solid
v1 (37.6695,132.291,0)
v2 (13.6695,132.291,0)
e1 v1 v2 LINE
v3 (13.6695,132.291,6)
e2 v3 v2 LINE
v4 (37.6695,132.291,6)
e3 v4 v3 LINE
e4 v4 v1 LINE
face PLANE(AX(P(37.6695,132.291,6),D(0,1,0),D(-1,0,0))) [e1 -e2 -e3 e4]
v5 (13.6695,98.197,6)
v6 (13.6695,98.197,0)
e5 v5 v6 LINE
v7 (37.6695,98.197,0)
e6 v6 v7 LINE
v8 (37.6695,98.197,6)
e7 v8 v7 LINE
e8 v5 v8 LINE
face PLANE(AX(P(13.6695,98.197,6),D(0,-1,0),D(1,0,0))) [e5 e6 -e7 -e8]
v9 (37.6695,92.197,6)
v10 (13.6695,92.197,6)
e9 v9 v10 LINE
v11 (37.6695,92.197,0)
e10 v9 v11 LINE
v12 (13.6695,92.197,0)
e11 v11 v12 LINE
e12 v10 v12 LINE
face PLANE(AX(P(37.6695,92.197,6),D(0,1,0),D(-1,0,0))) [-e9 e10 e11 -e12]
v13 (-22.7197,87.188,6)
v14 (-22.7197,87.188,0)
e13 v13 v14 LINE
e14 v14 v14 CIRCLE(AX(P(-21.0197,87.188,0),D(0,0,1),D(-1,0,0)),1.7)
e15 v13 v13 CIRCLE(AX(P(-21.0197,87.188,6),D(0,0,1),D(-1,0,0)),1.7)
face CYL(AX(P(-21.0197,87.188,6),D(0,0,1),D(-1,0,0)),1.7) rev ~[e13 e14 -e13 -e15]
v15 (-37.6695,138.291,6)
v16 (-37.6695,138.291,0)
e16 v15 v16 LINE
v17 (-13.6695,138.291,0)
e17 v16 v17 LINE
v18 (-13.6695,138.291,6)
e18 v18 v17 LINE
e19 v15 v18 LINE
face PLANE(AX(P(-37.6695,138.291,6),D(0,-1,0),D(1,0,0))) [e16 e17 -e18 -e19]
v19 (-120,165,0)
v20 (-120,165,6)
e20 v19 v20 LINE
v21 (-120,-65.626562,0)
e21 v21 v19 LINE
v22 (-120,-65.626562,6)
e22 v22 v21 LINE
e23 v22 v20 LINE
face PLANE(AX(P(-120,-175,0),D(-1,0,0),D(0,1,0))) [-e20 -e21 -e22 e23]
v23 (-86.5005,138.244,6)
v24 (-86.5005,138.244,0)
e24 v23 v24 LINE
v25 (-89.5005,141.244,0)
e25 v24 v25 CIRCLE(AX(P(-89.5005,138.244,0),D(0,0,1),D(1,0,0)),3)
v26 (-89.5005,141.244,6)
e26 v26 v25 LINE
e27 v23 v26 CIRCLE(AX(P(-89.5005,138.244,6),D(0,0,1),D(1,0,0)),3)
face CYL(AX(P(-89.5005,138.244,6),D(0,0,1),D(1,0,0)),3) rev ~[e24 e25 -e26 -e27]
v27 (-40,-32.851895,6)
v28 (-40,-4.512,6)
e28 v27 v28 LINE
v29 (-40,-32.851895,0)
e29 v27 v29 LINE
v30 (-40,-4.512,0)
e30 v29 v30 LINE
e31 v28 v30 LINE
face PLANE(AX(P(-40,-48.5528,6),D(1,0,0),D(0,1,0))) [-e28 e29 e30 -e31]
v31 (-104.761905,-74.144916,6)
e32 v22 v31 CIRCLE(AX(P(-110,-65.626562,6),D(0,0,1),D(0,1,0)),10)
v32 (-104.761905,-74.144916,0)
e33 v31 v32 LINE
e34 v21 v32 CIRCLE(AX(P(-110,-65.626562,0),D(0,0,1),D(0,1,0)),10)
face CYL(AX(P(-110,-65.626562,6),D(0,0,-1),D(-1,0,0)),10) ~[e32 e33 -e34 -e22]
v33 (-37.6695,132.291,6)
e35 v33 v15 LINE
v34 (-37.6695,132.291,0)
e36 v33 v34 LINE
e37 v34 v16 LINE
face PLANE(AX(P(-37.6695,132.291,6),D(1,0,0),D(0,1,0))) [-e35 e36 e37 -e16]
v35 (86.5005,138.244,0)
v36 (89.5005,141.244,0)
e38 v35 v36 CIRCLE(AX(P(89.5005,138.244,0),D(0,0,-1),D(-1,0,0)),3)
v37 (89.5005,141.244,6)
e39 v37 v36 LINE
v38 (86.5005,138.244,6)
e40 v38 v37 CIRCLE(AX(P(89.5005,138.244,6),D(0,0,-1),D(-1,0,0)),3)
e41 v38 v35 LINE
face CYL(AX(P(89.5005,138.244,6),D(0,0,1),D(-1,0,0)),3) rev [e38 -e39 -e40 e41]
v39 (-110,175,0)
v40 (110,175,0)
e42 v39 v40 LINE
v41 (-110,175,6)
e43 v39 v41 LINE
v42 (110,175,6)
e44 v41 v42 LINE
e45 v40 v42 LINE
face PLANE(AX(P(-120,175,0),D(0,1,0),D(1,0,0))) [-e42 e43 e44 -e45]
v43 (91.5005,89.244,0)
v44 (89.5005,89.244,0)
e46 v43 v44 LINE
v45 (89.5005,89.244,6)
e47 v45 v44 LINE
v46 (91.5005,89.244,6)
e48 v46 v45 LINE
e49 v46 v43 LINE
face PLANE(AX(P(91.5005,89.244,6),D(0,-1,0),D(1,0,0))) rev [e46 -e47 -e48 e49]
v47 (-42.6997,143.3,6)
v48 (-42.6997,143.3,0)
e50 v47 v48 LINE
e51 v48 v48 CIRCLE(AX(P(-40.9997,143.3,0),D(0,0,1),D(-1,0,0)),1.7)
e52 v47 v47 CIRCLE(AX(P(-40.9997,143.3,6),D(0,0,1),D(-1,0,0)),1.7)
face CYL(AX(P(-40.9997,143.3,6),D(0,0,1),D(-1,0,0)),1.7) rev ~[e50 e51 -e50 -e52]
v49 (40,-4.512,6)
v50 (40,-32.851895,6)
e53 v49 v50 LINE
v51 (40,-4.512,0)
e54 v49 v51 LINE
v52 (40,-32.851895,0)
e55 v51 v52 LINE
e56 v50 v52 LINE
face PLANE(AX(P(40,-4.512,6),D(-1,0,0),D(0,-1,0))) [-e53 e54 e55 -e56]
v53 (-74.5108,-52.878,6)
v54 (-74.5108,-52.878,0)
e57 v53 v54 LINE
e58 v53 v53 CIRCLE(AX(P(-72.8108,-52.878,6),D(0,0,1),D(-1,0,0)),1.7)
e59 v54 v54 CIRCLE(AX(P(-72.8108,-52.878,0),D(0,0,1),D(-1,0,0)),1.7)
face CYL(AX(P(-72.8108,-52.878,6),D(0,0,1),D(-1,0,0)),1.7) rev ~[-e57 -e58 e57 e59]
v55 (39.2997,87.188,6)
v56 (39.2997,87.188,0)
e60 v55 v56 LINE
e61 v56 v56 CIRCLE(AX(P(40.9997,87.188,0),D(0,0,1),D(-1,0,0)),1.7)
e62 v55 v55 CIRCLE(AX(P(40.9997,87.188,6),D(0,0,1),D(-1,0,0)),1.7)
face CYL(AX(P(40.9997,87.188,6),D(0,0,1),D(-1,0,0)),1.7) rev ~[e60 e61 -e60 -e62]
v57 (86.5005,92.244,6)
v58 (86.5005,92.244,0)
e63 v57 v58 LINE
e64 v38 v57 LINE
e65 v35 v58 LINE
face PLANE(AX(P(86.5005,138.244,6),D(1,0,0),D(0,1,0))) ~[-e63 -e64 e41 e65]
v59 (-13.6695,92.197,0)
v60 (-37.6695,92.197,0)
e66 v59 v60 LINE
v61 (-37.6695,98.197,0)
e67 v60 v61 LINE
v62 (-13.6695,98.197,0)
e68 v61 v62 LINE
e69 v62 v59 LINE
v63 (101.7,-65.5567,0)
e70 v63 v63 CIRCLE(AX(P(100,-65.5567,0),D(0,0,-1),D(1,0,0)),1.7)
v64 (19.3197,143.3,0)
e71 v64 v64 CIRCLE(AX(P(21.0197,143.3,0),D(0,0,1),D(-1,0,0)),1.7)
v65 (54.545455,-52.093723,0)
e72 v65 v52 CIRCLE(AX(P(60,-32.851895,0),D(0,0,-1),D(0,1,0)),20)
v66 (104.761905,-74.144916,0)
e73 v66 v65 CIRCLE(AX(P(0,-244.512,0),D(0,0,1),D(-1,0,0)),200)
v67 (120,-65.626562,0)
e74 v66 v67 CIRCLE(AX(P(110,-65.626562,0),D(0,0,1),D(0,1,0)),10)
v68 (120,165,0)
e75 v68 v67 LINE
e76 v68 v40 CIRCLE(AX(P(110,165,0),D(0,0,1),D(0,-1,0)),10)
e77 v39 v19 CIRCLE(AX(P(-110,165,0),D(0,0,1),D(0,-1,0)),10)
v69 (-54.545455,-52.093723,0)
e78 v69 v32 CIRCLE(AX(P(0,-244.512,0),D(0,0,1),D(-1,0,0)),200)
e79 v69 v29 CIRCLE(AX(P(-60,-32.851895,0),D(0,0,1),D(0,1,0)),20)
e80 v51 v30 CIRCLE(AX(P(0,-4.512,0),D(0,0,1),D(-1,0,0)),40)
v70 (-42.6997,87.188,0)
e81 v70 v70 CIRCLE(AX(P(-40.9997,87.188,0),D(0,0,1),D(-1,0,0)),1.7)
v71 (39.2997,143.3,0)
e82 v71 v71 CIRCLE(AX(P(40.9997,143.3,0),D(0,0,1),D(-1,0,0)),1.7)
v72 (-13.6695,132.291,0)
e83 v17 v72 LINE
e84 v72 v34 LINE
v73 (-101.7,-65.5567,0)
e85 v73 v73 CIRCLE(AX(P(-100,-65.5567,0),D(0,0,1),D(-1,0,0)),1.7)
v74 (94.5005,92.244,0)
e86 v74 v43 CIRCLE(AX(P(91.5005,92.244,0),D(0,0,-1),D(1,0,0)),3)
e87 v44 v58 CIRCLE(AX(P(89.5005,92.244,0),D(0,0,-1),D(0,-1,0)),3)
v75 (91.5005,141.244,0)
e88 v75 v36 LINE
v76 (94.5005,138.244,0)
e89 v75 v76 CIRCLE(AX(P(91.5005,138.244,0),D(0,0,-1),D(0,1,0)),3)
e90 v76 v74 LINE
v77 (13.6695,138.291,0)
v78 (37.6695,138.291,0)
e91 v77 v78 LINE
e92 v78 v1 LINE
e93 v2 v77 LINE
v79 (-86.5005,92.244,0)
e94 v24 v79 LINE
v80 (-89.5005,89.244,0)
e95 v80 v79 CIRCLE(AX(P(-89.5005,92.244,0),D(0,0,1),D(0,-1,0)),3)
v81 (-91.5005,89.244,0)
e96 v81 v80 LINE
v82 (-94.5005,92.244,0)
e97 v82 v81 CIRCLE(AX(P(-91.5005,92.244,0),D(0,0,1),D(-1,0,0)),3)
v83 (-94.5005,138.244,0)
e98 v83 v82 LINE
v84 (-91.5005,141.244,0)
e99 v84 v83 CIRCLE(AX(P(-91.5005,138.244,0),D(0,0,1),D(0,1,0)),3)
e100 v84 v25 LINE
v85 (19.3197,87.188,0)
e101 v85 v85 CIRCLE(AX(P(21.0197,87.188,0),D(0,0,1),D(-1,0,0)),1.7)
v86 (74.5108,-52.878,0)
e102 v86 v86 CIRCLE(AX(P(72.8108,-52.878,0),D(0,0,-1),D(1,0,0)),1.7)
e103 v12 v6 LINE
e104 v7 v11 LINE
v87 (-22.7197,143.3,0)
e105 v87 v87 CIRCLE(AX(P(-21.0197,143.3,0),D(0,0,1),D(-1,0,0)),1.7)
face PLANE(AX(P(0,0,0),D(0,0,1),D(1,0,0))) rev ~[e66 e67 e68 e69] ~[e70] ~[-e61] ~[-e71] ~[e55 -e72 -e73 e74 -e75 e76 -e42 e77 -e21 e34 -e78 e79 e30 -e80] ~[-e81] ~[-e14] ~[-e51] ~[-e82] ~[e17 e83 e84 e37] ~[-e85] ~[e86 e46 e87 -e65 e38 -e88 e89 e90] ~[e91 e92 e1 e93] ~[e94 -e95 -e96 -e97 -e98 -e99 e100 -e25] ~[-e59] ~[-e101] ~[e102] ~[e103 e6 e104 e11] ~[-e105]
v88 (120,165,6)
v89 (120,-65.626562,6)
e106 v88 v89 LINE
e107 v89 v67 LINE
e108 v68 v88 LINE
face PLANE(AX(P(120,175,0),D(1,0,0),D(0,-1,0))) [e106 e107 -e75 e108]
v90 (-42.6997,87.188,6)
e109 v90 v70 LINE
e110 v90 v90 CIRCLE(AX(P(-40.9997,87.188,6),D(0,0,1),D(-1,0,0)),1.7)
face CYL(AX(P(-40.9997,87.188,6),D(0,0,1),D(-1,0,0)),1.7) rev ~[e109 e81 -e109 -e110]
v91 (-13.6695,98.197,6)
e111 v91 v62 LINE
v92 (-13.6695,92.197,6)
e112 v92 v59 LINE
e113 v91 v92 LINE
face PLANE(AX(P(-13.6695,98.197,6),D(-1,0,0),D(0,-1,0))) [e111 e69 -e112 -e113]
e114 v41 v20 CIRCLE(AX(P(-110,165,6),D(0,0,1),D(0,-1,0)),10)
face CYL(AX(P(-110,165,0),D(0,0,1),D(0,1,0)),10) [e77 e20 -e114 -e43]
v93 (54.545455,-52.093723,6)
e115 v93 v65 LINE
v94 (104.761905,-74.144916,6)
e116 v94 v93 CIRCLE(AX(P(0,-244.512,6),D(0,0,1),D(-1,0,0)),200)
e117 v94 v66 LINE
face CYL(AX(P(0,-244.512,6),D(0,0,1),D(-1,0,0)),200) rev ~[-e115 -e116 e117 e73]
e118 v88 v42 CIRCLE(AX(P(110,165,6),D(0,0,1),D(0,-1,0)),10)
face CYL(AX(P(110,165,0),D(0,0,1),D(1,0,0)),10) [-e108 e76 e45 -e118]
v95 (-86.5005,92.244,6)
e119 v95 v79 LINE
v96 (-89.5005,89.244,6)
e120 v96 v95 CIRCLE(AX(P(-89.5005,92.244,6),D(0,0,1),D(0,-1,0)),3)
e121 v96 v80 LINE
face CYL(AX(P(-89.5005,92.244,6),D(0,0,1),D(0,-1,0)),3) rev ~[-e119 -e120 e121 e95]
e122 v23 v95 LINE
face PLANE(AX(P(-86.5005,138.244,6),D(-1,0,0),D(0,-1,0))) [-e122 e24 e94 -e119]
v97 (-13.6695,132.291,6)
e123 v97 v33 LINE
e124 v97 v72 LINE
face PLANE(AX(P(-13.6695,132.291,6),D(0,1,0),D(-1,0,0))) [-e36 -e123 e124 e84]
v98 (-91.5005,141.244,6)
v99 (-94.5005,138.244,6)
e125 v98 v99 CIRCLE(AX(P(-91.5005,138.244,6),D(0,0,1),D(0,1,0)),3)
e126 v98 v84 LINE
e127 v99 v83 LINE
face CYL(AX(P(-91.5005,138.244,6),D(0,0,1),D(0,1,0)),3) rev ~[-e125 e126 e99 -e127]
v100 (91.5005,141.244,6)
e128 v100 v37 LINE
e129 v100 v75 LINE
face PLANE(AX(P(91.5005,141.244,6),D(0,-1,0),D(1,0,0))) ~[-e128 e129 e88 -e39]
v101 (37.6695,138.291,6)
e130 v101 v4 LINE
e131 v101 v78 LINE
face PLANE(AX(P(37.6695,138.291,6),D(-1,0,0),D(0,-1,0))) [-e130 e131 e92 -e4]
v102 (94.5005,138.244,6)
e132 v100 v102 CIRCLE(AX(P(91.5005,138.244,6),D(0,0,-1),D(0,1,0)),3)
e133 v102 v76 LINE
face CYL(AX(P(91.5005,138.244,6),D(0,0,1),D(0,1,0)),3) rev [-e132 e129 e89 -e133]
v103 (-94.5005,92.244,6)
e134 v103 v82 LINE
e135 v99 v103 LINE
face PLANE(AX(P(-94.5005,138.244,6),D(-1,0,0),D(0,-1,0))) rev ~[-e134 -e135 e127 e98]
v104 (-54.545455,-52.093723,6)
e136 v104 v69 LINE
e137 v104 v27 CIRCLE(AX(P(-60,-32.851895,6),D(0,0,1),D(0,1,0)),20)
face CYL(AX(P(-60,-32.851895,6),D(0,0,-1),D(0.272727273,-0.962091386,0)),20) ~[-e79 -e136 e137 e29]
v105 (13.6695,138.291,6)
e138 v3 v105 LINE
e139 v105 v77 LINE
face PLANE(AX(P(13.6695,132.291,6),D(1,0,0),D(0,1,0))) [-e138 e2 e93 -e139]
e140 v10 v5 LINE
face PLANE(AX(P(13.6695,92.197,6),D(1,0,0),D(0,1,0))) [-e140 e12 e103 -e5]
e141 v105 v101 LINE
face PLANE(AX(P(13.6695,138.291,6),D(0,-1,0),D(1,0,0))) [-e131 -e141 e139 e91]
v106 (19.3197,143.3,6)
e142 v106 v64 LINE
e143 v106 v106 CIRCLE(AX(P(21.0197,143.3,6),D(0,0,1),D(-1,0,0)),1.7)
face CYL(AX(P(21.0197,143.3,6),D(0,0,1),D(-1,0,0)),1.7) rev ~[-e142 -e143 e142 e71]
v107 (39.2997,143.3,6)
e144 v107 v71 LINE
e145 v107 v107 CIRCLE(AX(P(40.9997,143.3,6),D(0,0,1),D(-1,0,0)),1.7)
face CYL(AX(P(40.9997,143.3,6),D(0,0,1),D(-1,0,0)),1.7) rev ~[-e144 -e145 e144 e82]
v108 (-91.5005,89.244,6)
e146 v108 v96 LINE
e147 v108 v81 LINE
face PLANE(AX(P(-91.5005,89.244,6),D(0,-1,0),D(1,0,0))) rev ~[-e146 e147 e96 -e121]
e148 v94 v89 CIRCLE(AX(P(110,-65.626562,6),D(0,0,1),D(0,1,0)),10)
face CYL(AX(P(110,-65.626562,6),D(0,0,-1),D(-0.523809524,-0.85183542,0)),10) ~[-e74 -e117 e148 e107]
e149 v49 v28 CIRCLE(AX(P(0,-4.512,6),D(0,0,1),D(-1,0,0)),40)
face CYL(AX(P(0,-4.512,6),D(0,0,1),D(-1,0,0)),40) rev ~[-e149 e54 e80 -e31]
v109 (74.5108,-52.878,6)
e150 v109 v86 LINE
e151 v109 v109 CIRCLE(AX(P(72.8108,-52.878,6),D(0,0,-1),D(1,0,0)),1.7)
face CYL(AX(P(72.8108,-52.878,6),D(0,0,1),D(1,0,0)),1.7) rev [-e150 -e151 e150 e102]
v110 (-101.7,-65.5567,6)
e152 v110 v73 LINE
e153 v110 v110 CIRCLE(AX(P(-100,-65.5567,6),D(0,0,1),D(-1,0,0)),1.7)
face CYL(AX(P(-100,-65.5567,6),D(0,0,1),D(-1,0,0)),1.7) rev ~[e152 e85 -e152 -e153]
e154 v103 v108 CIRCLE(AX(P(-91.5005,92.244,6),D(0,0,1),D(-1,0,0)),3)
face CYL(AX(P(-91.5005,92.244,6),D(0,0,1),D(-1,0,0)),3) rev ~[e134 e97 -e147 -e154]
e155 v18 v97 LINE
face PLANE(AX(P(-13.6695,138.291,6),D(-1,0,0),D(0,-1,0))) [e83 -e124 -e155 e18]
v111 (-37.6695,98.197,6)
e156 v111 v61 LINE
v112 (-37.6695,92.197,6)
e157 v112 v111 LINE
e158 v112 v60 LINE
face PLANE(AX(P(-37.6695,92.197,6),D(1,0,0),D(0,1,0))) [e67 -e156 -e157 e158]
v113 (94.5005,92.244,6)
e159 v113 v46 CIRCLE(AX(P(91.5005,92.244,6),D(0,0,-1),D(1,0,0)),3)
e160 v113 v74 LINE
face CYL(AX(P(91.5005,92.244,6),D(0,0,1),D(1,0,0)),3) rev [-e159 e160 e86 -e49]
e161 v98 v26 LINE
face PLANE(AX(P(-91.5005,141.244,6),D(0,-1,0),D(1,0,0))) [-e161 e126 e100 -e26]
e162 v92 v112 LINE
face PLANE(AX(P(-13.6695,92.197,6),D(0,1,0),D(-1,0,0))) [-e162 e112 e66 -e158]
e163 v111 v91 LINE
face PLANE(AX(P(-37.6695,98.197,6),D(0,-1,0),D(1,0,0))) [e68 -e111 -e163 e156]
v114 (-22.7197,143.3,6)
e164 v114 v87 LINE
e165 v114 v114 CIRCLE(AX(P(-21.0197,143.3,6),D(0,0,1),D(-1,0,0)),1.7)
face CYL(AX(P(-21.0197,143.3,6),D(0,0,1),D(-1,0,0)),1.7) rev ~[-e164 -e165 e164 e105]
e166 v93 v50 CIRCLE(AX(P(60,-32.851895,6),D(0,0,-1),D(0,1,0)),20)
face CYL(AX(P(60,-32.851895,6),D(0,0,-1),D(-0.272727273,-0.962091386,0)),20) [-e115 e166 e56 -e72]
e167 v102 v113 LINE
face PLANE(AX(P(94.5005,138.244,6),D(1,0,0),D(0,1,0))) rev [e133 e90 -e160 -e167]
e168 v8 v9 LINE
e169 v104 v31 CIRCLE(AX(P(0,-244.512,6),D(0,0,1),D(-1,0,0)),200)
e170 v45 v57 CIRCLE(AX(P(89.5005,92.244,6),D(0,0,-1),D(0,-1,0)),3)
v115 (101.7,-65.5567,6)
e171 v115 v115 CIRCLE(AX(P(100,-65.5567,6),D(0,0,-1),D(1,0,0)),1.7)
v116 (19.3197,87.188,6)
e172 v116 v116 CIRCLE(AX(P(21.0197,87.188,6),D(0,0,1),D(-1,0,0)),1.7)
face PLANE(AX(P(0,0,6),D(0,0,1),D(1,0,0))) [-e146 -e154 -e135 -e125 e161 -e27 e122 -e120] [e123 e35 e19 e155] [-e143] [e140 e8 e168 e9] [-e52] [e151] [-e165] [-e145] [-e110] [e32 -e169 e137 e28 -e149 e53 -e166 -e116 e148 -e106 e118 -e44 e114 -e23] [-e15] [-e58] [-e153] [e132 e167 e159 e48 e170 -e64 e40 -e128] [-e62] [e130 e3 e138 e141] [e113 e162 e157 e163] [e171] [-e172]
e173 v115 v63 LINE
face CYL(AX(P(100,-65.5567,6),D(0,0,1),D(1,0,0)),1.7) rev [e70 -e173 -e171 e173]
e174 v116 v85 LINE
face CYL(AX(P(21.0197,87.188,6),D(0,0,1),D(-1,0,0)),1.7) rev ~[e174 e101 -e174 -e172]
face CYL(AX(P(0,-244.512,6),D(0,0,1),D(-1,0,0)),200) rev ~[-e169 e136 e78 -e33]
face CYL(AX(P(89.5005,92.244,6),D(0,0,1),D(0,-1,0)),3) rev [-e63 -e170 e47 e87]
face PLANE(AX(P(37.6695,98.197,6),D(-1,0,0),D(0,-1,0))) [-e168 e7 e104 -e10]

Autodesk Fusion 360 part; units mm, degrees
sketch "Sketch1" plane through (0, 0, 0) normal (0, 0, 1) x (1, 0, 0)
  line L0 (-120, 175) -> (120, 175)
  line L1 (120, 175) -> (120, -175)
  line L2 (120, -175) -> (-120, -175)
  line L3 (-120, -175) -> (-120, 175)
  line L4 (-120, 175) -> (120, -175) construction
  line L5 (120, 175) -> (-120, -175) construction
  dimension "d1" = 240
  dimension "d2" = 350
extrude "Extrude1" add sketch "Sketch1" along normal blind 6
sketch "Sketch2" plane through (0, 0, 6) normal (0, 0, 1) x (-1, 0, 0)
  line L0 (120, 175) -> (-120, 175)
  line L1 (-120, 175) -> (-120, -175)
  line L2 (-120, -175) -> (120, -175)
  line L3 (120, -175) -> (120, 175)
  line L4 (0, -2.5) -> (0, -20)
  line L5 (37.6695, -98.197) -> (13.6695, -98.197)
  line L6 (13.6695, -98.197) -> (13.6695, -92.197)
  line L7 (13.6695, -92.197) -> (37.6695, -92.197)
  line L8 (37.6695, -92.197) -> (37.6695, -98.197)
  line L9 (-13.6695, -98.197) -> (-37.6695, -98.197)
  line L10 (-37.6695, -98.197) -> (-37.6695, -92.197)
  line L11 (-37.6695, -92.197) -> (-13.6695, -92.197)
  line L12 (-13.6695, -92.197) -> (-13.6695, -98.197)
  line L13 (13.6695, -98.197) -> (-13.6695, -98.197) construction
  line L14 (13.6695, -92.197) -> (0, 0) construction
  line L15 (0, 0) -> (-13.6695, -92.197) construction
  line L16 (37.6695, -138.291) -> (13.6695, -138.291)
  line L17 (13.6695, -138.291) -> (13.6695, -132.291)
  line L18 (13.6695, -132.291) -> (37.6695, -132.291)
  line L19 (37.6695, -132.291) -> (37.6695, -138.291)
  line L20 (-13.6695, -138.291) -> (-37.6695, -138.291)
  line L21 (-37.6695, -138.291) -> (-37.6695, -132.291)
  line L22 (-37.6695, -132.291) -> (-13.6695, -132.291)
  line L23 (-13.6695, -132.291) -> (-13.6695, -138.291)
  line L24 (13.6695, -132.291) -> (13.6695, -98.197) construction
  line L25 (-13.6695, -132.291) -> (-13.6695, -98.197) construction
  line L26 (13.6695, -132.291) -> (-13.6695, -132.291) construction
  circle A0 centre (40.9997, -143.3) radius 1.7
  circle A1 centre (21.0197, -143.3) radius 1.7
  line L27 (40.9997, -143.3) -> (21.0197, -143.3) construction
  circle A2 centre (40.9997, -87.188) radius 1.7
  circle A3 centre (21.0197, -87.188) radius 1.7
  line L28 (40.9997, -87.188) -> (21.0197, -87.188) construction
  line L29 (37.6695, -92.197) -> (40.0585, -88.6037) construction
  line L30 (40.9997, -87.188) -> (40.0585, -88.6037) construction
  line L31 (21.0197, -87.188) -> (21.0197, -88.888) construction
  line L32 (21.0197, -92.197) -> (21.0197, -88.888) construction
  line L33 (40.9997, -143.3) -> (40.0585, -141.8843) construction
  line L34 (40.0585, -141.8843) -> (37.6695, -138.291) construction
  line L35 (21.0197, -143.3) -> (21.0197, -141.6) construction
  line L36 (21.0197, -141.6) -> (21.0197, -138.291) construction
  circle A4 centre (-21.0197, -143.3) radius 1.7
  circle A5 centre (-40.9997, -143.3) radius 1.7
  line L37 (-21.0197, -143.3) -> (-40.9997, -143.3) construction
  line L38 (-21.0197, -143.3) -> (-21.0197, -141.6) construction
  line L39 (-21.0197, -138.291) -> (-21.0197, -141.6) construction
  line L40 (-40.9997, -143.3) -> (-40.0585, -141.8843) construction
  line L41 (-37.6695, -138.291) -> (-40.0585, -141.8843) construction
  circle A6 centre (-21.0197, -87.188) radius 1.7
  circle A7 centre (-40.9997, -87.188) radius 1.7
  line L42 (-21.0197, -87.188) -> (-40.9997, -87.188) construction
  line L43 (-40.9997, -87.188) -> (-40.0585, -88.6037) construction
  line L44 (-37.6695, -92.197) -> (-40.0585, -88.6037) construction
  line L45 (-21.0197, -87.188) -> (-21.0197, -88.888) construction
  line L46 (-21.0197, -92.197) -> (-21.0197, -88.888) construction
  dimension "d5" = 24
  dimension "d6" = 6
  dimension "d7" = 27.339
  dimension "d8" = 34.094
  dimension "d11" = 3.4
  dimension "d12" = 19.98
  dimension "d13" = 4.315
  dimension "d14" = 3.309
  dimension "d15" = 30
extrude "Extrude2" cut sketch "Sketch2" against normal up to surface (6 mm away) contours L5 L6 L7 L8 | L9 L10 L11 L12 | L16 L17 L18 L19 | L20 L21 L22 L23 | A0 | A1 | A2 | A3 | A4 | A5 | A6 | A7
sketch "Sketch4" plane through (0, 0, 6) normal (0, 0, 1) x (-1, 0, 0)
  circle A0 centre (-40.9997, -87.188) radius 1.7
  line L0 (37.6695, -132.291) -> (37.6695, -138.291)
  line L1 (37.6695, -138.291) -> (13.6695, -138.291)
  line L2 (13.6695, -138.291) -> (13.6695, -132.291)
  line L3 (13.6695, -132.291) -> (37.6695, -132.291)
  circle A1 centre (21.0197, -87.188) radius 1.7
  circle A2 centre (40.9997, -87.188) radius 1.7
  circle A3 centre (21.0197, -143.3) radius 1.7
  circle A4 centre (-40.9997, -143.3) radius 1.7
  circle A5 centre (-21.0197, -87.188) radius 1.7
  line L4 (-13.6695, -132.291) -> (-13.6695, -138.291)
  line L5 (-13.6695, -138.291) -> (-37.6695, -138.291)
  line L6 (-37.6695, -138.291) -> (-37.6695, -132.291)
  line L7 (-37.6695, -132.291) -> (-13.6695, -132.291)
  line L8 (37.6695, -92.197) -> (37.6695, -98.197)
  line L9 (37.6695, -98.197) -> (13.6695, -98.197)
  line L10 (13.6695, -98.197) -> (13.6695, -92.197)
  line L11 (13.6695, -92.197) -> (37.6695, -92.197)
  line L12 (-13.6695, -92.197) -> (-13.6695, -98.197)
  line L13 (-13.6695, -98.197) -> (-37.6695, -98.197)
  line L14 (-37.6695, -98.197) -> (-37.6695, -92.197)
  line L15 (-37.6695, -92.197) -> (-13.6695, -92.197)
  circle A6 centre (40.9997, -143.3) radius 1.7
  circle A7 centre (-21.0197, -143.3) radius 1.7
  line L16 (120, 175) -> (-120, 175)
  line L17 (-120, 175) -> (-120, -175)
  line L18 (-120, -175) -> (120, -175)
  line L19 (120, -175) -> (120, 175)
  line L20 (94.5005, -138.244) -> (94.5005, -92.244)
  line L21 (91.5005, -89.244) -> (89.5005, -89.244)
  line L22 (86.5005, -138.244) -> (86.5005, -92.244)
  line L23 (91.5005, -141.244) -> (89.5005, -141.244)
  arc A8 (91.5005, -141.244) -> (94.5005, -138.244) centre (91.5005, -138.244) ccw
  arc A9 (94.5005, -138.244) -> (91.5005, -141.244) centre (91.5005, -138.244) ccw construction
  arc A10 (86.5005, -138.244) -> (89.5005, -141.244) centre (89.5005, -138.244) ccw
  arc A11 (89.5005, -141.244) -> (86.5005, -138.244) centre (89.5005, -138.244) ccw construction
  arc A12 (89.5005, -89.244) -> (86.5005, -92.244) centre (89.5005, -92.244) ccw
  arc A13 (86.5005, -92.244) -> (89.5005, -89.244) centre (89.5005, -92.244) ccw construction
  arc A14 (94.5005, -92.244) -> (91.5005, -89.244) centre (91.5005, -92.244) ccw
  arc A15 (91.5005, -89.244) -> (94.5005, -92.244) centre (91.5005, -92.244) ccw construction
  line L24 (89.5005, -92.244) -> (40.9997, -87.188) construction
  line L25 (89.5005, -138.244) -> (40.9997, -143.3) construction
  dimension "d22" = 3
  dimension "d23" = 2
  dimension "d24" = 46
  dimension "d25" = 48.831
extrude "Extrude3" cut sketch "Sketch4" against normal up to surface (6 mm away) contours L20 L21 L22 L23 A8 A10 A12 A14
mirror "Mirror1" about plane through (0, 0, 0) normal (1, 0, 0) of "Extrude3"
sketch "Sketch5" plane through (0, 0, 6) normal (0, 0, 1) x (-1, 0, 0)
  line L0 (-91.5005, -89.244) -> (-89.5005, -89.244)
  arc A0 (-86.5005, -92.244) -> (-89.5005, -89.244) centre (-89.5005, -92.244) ccw
  line L1 (-86.5005, -92.244) -> (-86.5005, -138.244)
  arc A1 (-89.5005, -141.244) -> (-86.5005, -138.244) centre (-89.5005, -138.244) ccw
  line L2 (-89.5005, -141.244) -> (-91.5005, -141.244)
  arc A2 (-94.5005, -138.244) -> (-91.5005, -141.244) centre (-91.5005, -138.244) ccw
  line L3 (-94.5005, -138.244) -> (-94.5005, -92.244)
  arc A3 (-91.5005, -89.244) -> (-94.5005, -92.244) centre (-91.5005, -92.244) ccw
  line L4 (86.5005, -138.244) -> (86.5005, -92.244)
  arc A4 (89.5005, -89.244) -> (86.5005, -92.244) centre (89.5005, -92.244) ccw
  line L5 (89.5005, -89.244) -> (91.5005, -89.244)
  arc A5 (94.5005, -92.244) -> (91.5005, -89.244) centre (91.5005, -92.244) ccw
  line L6 (94.5005, -92.244) -> (94.5005, -138.244)
  arc A6 (91.5005, -141.244) -> (94.5005, -138.244) centre (91.5005, -138.244) ccw
  line L7 (91.5005, -141.244) -> (89.5005, -141.244)
  arc A7 (86.5005, -138.244) -> (89.5005, -141.244) centre (89.5005, -138.244) ccw
  circle A8 centre (-40.9997, -87.188) radius 1.7
  line L8 (37.6695, -132.291) -> (37.6695, -138.291)
  line L9 (37.6695, -138.291) -> (13.6695, -138.291)
  line L10 (13.6695, -138.291) -> (13.6695, -132.291)
  line L11 (13.6695, -132.291) -> (37.6695, -132.291)
  circle A9 centre (21.0197, -87.188) radius 1.7
  circle A10 centre (40.9997, -87.188) radius 1.7
  circle A11 centre (21.0197, -143.3) radius 1.7
  circle A12 centre (-40.9997, -143.3) radius 1.7
  circle A13 centre (-21.0197, -87.188) radius 1.7
  line L12 (-13.6695, -132.291) -> (-13.6695, -138.291)
  line L13 (-13.6695, -138.291) -> (-37.6695, -138.291)
  line L14 (-37.6695, -138.291) -> (-37.6695, -132.291)
  line L15 (-37.6695, -132.291) -> (-13.6695, -132.291)
  line L16 (37.6695, -92.197) -> (37.6695, -98.197)
  line L17 (37.6695, -98.197) -> (13.6695, -98.197)
  line L18 (13.6695, -98.197) -> (13.6695, -92.197)
  line L19 (13.6695, -92.197) -> (37.6695, -92.197)
  line L20 (-13.6695, -92.197) -> (-13.6695, -98.197)
  line L21 (-13.6695, -98.197) -> (-37.6695, -98.197)
  line L22 (-37.6695, -98.197) -> (-37.6695, -92.197)
  line L23 (-37.6695, -92.197) -> (-13.6695, -92.197)
  circle A14 centre (40.9997, -143.3) radius 1.7
  circle A15 centre (-21.0197, -143.3) radius 1.7
  line L24 (120, 175) -> (-120, 175)
  line L25 (-120, 175) -> (-120, -175)
  line L26 (-120, -175) -> (120, -175)
  line L27 (120, -175) -> (120, 175)
  line L28 (0, -2.5) -> (0, -20)
  circle A16 centre (0, 4.512) radius 40
  line L29 (21.0197, -85.488) -> (-21.0197, -85.488) construction
  dimension "d30" = 80
  dimension "d31" = 50
extrude "Extrude4" cut sketch "Sketch5" against normal up to surface (6 mm away) contours A16
sketch "Sketch6" plane through (0, 0, 6) normal (0, 0, 1) x (-1, 0, 0)
  circle A0 centre (0, 4.512) radius 40 construction
  line L0 (-91.5005, -89.244) -> (-89.5005, -89.244)
  arc A1 (-86.5005, -92.244) -> (-89.5005, -89.244) centre (-89.5005, -92.244) ccw
  line L1 (-86.5005, -92.244) -> (-86.5005, -138.244)
  arc A2 (-89.5005, -141.244) -> (-86.5005, -138.244) centre (-89.5005, -138.244) ccw
  line L2 (-89.5005, -141.244) -> (-91.5005, -141.244)
  arc A3 (-94.5005, -138.244) -> (-91.5005, -141.244) centre (-91.5005, -138.244) ccw
  line L3 (-94.5005, -138.244) -> (-94.5005, -92.244)
  arc A4 (-91.5005, -89.244) -> (-94.5005, -92.244) centre (-91.5005, -92.244) ccw
  line L4 (86.5005, -138.244) -> (86.5005, -92.244)
  arc A5 (89.5005, -89.244) -> (86.5005, -92.244) centre (89.5005, -92.244) ccw
  line L5 (89.5005, -89.244) -> (91.5005, -89.244)
  arc A6 (94.5005, -92.244) -> (91.5005, -89.244) centre (91.5005, -92.244) ccw
  line L6 (94.5005, -92.244) -> (94.5005, -138.244)
  arc A7 (91.5005, -141.244) -> (94.5005, -138.244) centre (91.5005, -138.244) ccw
  line L7 (91.5005, -141.244) -> (89.5005, -141.244)
  arc A8 (86.5005, -138.244) -> (89.5005, -141.244) centre (89.5005, -138.244) ccw
  circle A9 centre (-40.9997, -87.188) radius 1.7
  line L8 (37.6695, -132.291) -> (37.6695, -138.291)
  line L9 (37.6695, -138.291) -> (13.6695, -138.291)
  line L10 (13.6695, -138.291) -> (13.6695, -132.291)
  line L11 (13.6695, -132.291) -> (37.6695, -132.291)
  circle A10 centre (21.0197, -87.188) radius 1.7
  circle A11 centre (40.9997, -87.188) radius 1.7
  circle A12 centre (21.0197, -143.3) radius 1.7
  circle A13 centre (-40.9997, -143.3) radius 1.7
  circle A14 centre (-21.0197, -87.188) radius 1.7
  line L12 (-13.6695, -132.291) -> (-13.6695, -138.291)
  line L13 (-13.6695, -138.291) -> (-37.6695, -138.291)
  line L14 (-37.6695, -138.291) -> (-37.6695, -132.291)
  line L15 (-37.6695, -132.291) -> (-13.6695, -132.291)
  line L16 (37.6695, -92.197) -> (37.6695, -98.197)
  line L17 (37.6695, -98.197) -> (13.6695, -98.197)
  line L18 (13.6695, -98.197) -> (13.6695, -92.197)
  line L19 (13.6695, -92.197) -> (37.6695, -92.197)
  line L20 (-13.6695, -92.197) -> (-13.6695, -98.197)
  line L21 (-13.6695, -98.197) -> (-37.6695, -98.197)
  line L22 (-37.6695, -98.197) -> (-37.6695, -92.197)
  line L23 (-37.6695, -92.197) -> (-13.6695, -92.197)
  circle A15 centre (40.9997, -143.3) radius 1.7
  circle A16 centre (-21.0197, -143.3) radius 1.7
  line L24 (120, 175) -> (-120, 175)
  line L25 (-120, 175) -> (-120, -175)
  line L26 (-120, -175) -> (120, -175)
  line L27 (120, -175) -> (120, 175)
  circle A17 centre (0, 244.512) radius 200
  circle A18 centre (0, 4.512) radius 40 construction
  line L28 (0, 244.512) -> (0, 4.512) construction
  line L29 (40, 48.5528) -> (40, 4.512)
  line L30 (40, 4.512) -> (-40, 4.512)
  line L31 (-40, 4.512) -> (-40, 48.5528)
  dimension "d34" = 400
  dimension "d40" = 80
extrude "Extrude5" cut sketch "Sketch6" against normal up to surface (6 mm away) contours L24 L25 L27 A17 | A17 L29 L30 L31 picked at (-4.4713, 131.6541)
fillet "Fillet1" radius 20 2 edges at (-40, -48.5528, 3) (40, -48.5528, 3)
sketch "Sketch8" plane through (0, 0, 6) normal (0, 0, 1) x (-1, 0, 0)
  arc A0 (-40, 32.8519) -> (-54.5455, 52.0937) centre (-60, 32.8519) ccw
  arc A1 (-120, 84.512) -> (-54.5455, 52.0937) centre (0, 244.512) ccw
  line L0 (-120, 84.512) -> (-120, -175)
  line L1 (-120, -175) -> (120, -175)
  line L2 (120, -175) -> (120, 84.512)
  arc A2 (54.5455, 52.0937) -> (120, 84.512) centre (0, 244.512) ccw
  arc A3 (54.5455, 52.0937) -> (40, 32.8519) centre (60, 32.8519) ccw
  line L3 (40, 32.8519) -> (40, 4.512)
  arc A4 (-40, 4.512) -> (40, 4.512) centre (0, 4.512) ccw
  line L4 (-40, 4.512) -> (-40, 32.8519)
  line L5 (-91.5005, -89.244) -> (-89.5005, -89.244)
  arc A5 (-86.5005, -92.244) -> (-89.5005, -89.244) centre (-89.5005, -92.244) ccw
  line L6 (-86.5005, -92.244) -> (-86.5005, -138.244)
  arc A6 (-89.5005, -141.244) -> (-86.5005, -138.244) centre (-89.5005, -138.244) ccw
  line L7 (-89.5005, -141.244) -> (-91.5005, -141.244)
  arc A7 (-94.5005, -138.244) -> (-91.5005, -141.244) centre (-91.5005, -138.244) ccw
  line L8 (-94.5005, -138.244) -> (-94.5005, -92.244)
  arc A8 (-91.5005, -89.244) -> (-94.5005, -92.244) centre (-91.5005, -92.244) ccw
  line L9 (86.5005, -138.244) -> (86.5005, -92.244)
  arc A9 (89.5005, -89.244) -> (86.5005, -92.244) centre (89.5005, -92.244) ccw
  line L10 (89.5005, -89.244) -> (91.5005, -89.244)
  arc A10 (94.5005, -92.244) -> (91.5005, -89.244) centre (91.5005, -92.244) ccw
  line L11 (94.5005, -92.244) -> (94.5005, -138.244)
  arc A11 (91.5005, -141.244) -> (94.5005, -138.244) centre (91.5005, -138.244) ccw
  line L12 (91.5005, -141.244) -> (89.5005, -141.244)
  arc A12 (86.5005, -138.244) -> (89.5005, -141.244) centre (89.5005, -138.244) ccw
  circle A13 centre (-40.9997, -87.188) radius 1.7
  line L13 (37.6695, -132.291) -> (37.6695, -138.291)
  line L14 (37.6695, -138.291) -> (13.6695, -138.291)
  line L15 (13.6695, -138.291) -> (13.6695, -132.291)
  line L16 (13.6695, -132.291) -> (37.6695, -132.291)
  circle A14 centre (21.0197, -87.188) radius 1.7
  circle A15 centre (40.9997, -87.188) radius 1.7
  circle A16 centre (21.0197, -143.3) radius 1.7
  circle A17 centre (-40.9997, -143.3) radius 1.7
  circle A18 centre (-21.0197, -87.188) radius 1.7
  line L17 (-13.6695, -132.291) -> (-13.6695, -138.291)
  line L18 (-13.6695, -138.291) -> (-37.6695, -138.291)
  line L19 (-37.6695, -138.291) -> (-37.6695, -132.291)
  line L20 (-37.6695, -132.291) -> (-13.6695, -132.291)
  line L21 (37.6695, -92.197) -> (37.6695, -98.197)
  line L22 (37.6695, -98.197) -> (13.6695, -98.197)
  line L23 (13.6695, -98.197) -> (13.6695, -92.197)
  line L24 (13.6695, -92.197) -> (37.6695, -92.197)
  line L25 (-13.6695, -92.197) -> (-13.6695, -98.197)
  line L26 (-13.6695, -98.197) -> (-37.6695, -98.197)
  line L27 (-37.6695, -98.197) -> (-37.6695, -92.197)
  line L28 (-37.6695, -92.197) -> (-13.6695, -92.197)
  circle A19 centre (40.9997, -143.3) radius 1.7
  circle A20 centre (-21.0197, -143.3) radius 1.7
  arc A21 (55.9091, 47.2833) -> (123, 80.512) centre (0, 244.512) ccw construction
  circle A22 centre (100, 65.5567) radius 1.7
  circle A23 centre (72.8108, 52.878) radius 1.7
  dimension "d45" = 5
  dimension "d46" = 3.4
  dimension "d47" = 30
  dimension "d48" = 20
extrude "Extrude7" cut sketch "Sketch8" against normal up to surface (6 mm away) contours A22 | A23
mirror "Mirror2" about plane through (0, 0, 0) normal (1, 0, 0) of "Extrude7"
fillet "Fillet2" radius 10 4 edges at (120, -84.512, 3) (120, 175, 3) (-120, 175, 3) (-120, -84.512, 3)
